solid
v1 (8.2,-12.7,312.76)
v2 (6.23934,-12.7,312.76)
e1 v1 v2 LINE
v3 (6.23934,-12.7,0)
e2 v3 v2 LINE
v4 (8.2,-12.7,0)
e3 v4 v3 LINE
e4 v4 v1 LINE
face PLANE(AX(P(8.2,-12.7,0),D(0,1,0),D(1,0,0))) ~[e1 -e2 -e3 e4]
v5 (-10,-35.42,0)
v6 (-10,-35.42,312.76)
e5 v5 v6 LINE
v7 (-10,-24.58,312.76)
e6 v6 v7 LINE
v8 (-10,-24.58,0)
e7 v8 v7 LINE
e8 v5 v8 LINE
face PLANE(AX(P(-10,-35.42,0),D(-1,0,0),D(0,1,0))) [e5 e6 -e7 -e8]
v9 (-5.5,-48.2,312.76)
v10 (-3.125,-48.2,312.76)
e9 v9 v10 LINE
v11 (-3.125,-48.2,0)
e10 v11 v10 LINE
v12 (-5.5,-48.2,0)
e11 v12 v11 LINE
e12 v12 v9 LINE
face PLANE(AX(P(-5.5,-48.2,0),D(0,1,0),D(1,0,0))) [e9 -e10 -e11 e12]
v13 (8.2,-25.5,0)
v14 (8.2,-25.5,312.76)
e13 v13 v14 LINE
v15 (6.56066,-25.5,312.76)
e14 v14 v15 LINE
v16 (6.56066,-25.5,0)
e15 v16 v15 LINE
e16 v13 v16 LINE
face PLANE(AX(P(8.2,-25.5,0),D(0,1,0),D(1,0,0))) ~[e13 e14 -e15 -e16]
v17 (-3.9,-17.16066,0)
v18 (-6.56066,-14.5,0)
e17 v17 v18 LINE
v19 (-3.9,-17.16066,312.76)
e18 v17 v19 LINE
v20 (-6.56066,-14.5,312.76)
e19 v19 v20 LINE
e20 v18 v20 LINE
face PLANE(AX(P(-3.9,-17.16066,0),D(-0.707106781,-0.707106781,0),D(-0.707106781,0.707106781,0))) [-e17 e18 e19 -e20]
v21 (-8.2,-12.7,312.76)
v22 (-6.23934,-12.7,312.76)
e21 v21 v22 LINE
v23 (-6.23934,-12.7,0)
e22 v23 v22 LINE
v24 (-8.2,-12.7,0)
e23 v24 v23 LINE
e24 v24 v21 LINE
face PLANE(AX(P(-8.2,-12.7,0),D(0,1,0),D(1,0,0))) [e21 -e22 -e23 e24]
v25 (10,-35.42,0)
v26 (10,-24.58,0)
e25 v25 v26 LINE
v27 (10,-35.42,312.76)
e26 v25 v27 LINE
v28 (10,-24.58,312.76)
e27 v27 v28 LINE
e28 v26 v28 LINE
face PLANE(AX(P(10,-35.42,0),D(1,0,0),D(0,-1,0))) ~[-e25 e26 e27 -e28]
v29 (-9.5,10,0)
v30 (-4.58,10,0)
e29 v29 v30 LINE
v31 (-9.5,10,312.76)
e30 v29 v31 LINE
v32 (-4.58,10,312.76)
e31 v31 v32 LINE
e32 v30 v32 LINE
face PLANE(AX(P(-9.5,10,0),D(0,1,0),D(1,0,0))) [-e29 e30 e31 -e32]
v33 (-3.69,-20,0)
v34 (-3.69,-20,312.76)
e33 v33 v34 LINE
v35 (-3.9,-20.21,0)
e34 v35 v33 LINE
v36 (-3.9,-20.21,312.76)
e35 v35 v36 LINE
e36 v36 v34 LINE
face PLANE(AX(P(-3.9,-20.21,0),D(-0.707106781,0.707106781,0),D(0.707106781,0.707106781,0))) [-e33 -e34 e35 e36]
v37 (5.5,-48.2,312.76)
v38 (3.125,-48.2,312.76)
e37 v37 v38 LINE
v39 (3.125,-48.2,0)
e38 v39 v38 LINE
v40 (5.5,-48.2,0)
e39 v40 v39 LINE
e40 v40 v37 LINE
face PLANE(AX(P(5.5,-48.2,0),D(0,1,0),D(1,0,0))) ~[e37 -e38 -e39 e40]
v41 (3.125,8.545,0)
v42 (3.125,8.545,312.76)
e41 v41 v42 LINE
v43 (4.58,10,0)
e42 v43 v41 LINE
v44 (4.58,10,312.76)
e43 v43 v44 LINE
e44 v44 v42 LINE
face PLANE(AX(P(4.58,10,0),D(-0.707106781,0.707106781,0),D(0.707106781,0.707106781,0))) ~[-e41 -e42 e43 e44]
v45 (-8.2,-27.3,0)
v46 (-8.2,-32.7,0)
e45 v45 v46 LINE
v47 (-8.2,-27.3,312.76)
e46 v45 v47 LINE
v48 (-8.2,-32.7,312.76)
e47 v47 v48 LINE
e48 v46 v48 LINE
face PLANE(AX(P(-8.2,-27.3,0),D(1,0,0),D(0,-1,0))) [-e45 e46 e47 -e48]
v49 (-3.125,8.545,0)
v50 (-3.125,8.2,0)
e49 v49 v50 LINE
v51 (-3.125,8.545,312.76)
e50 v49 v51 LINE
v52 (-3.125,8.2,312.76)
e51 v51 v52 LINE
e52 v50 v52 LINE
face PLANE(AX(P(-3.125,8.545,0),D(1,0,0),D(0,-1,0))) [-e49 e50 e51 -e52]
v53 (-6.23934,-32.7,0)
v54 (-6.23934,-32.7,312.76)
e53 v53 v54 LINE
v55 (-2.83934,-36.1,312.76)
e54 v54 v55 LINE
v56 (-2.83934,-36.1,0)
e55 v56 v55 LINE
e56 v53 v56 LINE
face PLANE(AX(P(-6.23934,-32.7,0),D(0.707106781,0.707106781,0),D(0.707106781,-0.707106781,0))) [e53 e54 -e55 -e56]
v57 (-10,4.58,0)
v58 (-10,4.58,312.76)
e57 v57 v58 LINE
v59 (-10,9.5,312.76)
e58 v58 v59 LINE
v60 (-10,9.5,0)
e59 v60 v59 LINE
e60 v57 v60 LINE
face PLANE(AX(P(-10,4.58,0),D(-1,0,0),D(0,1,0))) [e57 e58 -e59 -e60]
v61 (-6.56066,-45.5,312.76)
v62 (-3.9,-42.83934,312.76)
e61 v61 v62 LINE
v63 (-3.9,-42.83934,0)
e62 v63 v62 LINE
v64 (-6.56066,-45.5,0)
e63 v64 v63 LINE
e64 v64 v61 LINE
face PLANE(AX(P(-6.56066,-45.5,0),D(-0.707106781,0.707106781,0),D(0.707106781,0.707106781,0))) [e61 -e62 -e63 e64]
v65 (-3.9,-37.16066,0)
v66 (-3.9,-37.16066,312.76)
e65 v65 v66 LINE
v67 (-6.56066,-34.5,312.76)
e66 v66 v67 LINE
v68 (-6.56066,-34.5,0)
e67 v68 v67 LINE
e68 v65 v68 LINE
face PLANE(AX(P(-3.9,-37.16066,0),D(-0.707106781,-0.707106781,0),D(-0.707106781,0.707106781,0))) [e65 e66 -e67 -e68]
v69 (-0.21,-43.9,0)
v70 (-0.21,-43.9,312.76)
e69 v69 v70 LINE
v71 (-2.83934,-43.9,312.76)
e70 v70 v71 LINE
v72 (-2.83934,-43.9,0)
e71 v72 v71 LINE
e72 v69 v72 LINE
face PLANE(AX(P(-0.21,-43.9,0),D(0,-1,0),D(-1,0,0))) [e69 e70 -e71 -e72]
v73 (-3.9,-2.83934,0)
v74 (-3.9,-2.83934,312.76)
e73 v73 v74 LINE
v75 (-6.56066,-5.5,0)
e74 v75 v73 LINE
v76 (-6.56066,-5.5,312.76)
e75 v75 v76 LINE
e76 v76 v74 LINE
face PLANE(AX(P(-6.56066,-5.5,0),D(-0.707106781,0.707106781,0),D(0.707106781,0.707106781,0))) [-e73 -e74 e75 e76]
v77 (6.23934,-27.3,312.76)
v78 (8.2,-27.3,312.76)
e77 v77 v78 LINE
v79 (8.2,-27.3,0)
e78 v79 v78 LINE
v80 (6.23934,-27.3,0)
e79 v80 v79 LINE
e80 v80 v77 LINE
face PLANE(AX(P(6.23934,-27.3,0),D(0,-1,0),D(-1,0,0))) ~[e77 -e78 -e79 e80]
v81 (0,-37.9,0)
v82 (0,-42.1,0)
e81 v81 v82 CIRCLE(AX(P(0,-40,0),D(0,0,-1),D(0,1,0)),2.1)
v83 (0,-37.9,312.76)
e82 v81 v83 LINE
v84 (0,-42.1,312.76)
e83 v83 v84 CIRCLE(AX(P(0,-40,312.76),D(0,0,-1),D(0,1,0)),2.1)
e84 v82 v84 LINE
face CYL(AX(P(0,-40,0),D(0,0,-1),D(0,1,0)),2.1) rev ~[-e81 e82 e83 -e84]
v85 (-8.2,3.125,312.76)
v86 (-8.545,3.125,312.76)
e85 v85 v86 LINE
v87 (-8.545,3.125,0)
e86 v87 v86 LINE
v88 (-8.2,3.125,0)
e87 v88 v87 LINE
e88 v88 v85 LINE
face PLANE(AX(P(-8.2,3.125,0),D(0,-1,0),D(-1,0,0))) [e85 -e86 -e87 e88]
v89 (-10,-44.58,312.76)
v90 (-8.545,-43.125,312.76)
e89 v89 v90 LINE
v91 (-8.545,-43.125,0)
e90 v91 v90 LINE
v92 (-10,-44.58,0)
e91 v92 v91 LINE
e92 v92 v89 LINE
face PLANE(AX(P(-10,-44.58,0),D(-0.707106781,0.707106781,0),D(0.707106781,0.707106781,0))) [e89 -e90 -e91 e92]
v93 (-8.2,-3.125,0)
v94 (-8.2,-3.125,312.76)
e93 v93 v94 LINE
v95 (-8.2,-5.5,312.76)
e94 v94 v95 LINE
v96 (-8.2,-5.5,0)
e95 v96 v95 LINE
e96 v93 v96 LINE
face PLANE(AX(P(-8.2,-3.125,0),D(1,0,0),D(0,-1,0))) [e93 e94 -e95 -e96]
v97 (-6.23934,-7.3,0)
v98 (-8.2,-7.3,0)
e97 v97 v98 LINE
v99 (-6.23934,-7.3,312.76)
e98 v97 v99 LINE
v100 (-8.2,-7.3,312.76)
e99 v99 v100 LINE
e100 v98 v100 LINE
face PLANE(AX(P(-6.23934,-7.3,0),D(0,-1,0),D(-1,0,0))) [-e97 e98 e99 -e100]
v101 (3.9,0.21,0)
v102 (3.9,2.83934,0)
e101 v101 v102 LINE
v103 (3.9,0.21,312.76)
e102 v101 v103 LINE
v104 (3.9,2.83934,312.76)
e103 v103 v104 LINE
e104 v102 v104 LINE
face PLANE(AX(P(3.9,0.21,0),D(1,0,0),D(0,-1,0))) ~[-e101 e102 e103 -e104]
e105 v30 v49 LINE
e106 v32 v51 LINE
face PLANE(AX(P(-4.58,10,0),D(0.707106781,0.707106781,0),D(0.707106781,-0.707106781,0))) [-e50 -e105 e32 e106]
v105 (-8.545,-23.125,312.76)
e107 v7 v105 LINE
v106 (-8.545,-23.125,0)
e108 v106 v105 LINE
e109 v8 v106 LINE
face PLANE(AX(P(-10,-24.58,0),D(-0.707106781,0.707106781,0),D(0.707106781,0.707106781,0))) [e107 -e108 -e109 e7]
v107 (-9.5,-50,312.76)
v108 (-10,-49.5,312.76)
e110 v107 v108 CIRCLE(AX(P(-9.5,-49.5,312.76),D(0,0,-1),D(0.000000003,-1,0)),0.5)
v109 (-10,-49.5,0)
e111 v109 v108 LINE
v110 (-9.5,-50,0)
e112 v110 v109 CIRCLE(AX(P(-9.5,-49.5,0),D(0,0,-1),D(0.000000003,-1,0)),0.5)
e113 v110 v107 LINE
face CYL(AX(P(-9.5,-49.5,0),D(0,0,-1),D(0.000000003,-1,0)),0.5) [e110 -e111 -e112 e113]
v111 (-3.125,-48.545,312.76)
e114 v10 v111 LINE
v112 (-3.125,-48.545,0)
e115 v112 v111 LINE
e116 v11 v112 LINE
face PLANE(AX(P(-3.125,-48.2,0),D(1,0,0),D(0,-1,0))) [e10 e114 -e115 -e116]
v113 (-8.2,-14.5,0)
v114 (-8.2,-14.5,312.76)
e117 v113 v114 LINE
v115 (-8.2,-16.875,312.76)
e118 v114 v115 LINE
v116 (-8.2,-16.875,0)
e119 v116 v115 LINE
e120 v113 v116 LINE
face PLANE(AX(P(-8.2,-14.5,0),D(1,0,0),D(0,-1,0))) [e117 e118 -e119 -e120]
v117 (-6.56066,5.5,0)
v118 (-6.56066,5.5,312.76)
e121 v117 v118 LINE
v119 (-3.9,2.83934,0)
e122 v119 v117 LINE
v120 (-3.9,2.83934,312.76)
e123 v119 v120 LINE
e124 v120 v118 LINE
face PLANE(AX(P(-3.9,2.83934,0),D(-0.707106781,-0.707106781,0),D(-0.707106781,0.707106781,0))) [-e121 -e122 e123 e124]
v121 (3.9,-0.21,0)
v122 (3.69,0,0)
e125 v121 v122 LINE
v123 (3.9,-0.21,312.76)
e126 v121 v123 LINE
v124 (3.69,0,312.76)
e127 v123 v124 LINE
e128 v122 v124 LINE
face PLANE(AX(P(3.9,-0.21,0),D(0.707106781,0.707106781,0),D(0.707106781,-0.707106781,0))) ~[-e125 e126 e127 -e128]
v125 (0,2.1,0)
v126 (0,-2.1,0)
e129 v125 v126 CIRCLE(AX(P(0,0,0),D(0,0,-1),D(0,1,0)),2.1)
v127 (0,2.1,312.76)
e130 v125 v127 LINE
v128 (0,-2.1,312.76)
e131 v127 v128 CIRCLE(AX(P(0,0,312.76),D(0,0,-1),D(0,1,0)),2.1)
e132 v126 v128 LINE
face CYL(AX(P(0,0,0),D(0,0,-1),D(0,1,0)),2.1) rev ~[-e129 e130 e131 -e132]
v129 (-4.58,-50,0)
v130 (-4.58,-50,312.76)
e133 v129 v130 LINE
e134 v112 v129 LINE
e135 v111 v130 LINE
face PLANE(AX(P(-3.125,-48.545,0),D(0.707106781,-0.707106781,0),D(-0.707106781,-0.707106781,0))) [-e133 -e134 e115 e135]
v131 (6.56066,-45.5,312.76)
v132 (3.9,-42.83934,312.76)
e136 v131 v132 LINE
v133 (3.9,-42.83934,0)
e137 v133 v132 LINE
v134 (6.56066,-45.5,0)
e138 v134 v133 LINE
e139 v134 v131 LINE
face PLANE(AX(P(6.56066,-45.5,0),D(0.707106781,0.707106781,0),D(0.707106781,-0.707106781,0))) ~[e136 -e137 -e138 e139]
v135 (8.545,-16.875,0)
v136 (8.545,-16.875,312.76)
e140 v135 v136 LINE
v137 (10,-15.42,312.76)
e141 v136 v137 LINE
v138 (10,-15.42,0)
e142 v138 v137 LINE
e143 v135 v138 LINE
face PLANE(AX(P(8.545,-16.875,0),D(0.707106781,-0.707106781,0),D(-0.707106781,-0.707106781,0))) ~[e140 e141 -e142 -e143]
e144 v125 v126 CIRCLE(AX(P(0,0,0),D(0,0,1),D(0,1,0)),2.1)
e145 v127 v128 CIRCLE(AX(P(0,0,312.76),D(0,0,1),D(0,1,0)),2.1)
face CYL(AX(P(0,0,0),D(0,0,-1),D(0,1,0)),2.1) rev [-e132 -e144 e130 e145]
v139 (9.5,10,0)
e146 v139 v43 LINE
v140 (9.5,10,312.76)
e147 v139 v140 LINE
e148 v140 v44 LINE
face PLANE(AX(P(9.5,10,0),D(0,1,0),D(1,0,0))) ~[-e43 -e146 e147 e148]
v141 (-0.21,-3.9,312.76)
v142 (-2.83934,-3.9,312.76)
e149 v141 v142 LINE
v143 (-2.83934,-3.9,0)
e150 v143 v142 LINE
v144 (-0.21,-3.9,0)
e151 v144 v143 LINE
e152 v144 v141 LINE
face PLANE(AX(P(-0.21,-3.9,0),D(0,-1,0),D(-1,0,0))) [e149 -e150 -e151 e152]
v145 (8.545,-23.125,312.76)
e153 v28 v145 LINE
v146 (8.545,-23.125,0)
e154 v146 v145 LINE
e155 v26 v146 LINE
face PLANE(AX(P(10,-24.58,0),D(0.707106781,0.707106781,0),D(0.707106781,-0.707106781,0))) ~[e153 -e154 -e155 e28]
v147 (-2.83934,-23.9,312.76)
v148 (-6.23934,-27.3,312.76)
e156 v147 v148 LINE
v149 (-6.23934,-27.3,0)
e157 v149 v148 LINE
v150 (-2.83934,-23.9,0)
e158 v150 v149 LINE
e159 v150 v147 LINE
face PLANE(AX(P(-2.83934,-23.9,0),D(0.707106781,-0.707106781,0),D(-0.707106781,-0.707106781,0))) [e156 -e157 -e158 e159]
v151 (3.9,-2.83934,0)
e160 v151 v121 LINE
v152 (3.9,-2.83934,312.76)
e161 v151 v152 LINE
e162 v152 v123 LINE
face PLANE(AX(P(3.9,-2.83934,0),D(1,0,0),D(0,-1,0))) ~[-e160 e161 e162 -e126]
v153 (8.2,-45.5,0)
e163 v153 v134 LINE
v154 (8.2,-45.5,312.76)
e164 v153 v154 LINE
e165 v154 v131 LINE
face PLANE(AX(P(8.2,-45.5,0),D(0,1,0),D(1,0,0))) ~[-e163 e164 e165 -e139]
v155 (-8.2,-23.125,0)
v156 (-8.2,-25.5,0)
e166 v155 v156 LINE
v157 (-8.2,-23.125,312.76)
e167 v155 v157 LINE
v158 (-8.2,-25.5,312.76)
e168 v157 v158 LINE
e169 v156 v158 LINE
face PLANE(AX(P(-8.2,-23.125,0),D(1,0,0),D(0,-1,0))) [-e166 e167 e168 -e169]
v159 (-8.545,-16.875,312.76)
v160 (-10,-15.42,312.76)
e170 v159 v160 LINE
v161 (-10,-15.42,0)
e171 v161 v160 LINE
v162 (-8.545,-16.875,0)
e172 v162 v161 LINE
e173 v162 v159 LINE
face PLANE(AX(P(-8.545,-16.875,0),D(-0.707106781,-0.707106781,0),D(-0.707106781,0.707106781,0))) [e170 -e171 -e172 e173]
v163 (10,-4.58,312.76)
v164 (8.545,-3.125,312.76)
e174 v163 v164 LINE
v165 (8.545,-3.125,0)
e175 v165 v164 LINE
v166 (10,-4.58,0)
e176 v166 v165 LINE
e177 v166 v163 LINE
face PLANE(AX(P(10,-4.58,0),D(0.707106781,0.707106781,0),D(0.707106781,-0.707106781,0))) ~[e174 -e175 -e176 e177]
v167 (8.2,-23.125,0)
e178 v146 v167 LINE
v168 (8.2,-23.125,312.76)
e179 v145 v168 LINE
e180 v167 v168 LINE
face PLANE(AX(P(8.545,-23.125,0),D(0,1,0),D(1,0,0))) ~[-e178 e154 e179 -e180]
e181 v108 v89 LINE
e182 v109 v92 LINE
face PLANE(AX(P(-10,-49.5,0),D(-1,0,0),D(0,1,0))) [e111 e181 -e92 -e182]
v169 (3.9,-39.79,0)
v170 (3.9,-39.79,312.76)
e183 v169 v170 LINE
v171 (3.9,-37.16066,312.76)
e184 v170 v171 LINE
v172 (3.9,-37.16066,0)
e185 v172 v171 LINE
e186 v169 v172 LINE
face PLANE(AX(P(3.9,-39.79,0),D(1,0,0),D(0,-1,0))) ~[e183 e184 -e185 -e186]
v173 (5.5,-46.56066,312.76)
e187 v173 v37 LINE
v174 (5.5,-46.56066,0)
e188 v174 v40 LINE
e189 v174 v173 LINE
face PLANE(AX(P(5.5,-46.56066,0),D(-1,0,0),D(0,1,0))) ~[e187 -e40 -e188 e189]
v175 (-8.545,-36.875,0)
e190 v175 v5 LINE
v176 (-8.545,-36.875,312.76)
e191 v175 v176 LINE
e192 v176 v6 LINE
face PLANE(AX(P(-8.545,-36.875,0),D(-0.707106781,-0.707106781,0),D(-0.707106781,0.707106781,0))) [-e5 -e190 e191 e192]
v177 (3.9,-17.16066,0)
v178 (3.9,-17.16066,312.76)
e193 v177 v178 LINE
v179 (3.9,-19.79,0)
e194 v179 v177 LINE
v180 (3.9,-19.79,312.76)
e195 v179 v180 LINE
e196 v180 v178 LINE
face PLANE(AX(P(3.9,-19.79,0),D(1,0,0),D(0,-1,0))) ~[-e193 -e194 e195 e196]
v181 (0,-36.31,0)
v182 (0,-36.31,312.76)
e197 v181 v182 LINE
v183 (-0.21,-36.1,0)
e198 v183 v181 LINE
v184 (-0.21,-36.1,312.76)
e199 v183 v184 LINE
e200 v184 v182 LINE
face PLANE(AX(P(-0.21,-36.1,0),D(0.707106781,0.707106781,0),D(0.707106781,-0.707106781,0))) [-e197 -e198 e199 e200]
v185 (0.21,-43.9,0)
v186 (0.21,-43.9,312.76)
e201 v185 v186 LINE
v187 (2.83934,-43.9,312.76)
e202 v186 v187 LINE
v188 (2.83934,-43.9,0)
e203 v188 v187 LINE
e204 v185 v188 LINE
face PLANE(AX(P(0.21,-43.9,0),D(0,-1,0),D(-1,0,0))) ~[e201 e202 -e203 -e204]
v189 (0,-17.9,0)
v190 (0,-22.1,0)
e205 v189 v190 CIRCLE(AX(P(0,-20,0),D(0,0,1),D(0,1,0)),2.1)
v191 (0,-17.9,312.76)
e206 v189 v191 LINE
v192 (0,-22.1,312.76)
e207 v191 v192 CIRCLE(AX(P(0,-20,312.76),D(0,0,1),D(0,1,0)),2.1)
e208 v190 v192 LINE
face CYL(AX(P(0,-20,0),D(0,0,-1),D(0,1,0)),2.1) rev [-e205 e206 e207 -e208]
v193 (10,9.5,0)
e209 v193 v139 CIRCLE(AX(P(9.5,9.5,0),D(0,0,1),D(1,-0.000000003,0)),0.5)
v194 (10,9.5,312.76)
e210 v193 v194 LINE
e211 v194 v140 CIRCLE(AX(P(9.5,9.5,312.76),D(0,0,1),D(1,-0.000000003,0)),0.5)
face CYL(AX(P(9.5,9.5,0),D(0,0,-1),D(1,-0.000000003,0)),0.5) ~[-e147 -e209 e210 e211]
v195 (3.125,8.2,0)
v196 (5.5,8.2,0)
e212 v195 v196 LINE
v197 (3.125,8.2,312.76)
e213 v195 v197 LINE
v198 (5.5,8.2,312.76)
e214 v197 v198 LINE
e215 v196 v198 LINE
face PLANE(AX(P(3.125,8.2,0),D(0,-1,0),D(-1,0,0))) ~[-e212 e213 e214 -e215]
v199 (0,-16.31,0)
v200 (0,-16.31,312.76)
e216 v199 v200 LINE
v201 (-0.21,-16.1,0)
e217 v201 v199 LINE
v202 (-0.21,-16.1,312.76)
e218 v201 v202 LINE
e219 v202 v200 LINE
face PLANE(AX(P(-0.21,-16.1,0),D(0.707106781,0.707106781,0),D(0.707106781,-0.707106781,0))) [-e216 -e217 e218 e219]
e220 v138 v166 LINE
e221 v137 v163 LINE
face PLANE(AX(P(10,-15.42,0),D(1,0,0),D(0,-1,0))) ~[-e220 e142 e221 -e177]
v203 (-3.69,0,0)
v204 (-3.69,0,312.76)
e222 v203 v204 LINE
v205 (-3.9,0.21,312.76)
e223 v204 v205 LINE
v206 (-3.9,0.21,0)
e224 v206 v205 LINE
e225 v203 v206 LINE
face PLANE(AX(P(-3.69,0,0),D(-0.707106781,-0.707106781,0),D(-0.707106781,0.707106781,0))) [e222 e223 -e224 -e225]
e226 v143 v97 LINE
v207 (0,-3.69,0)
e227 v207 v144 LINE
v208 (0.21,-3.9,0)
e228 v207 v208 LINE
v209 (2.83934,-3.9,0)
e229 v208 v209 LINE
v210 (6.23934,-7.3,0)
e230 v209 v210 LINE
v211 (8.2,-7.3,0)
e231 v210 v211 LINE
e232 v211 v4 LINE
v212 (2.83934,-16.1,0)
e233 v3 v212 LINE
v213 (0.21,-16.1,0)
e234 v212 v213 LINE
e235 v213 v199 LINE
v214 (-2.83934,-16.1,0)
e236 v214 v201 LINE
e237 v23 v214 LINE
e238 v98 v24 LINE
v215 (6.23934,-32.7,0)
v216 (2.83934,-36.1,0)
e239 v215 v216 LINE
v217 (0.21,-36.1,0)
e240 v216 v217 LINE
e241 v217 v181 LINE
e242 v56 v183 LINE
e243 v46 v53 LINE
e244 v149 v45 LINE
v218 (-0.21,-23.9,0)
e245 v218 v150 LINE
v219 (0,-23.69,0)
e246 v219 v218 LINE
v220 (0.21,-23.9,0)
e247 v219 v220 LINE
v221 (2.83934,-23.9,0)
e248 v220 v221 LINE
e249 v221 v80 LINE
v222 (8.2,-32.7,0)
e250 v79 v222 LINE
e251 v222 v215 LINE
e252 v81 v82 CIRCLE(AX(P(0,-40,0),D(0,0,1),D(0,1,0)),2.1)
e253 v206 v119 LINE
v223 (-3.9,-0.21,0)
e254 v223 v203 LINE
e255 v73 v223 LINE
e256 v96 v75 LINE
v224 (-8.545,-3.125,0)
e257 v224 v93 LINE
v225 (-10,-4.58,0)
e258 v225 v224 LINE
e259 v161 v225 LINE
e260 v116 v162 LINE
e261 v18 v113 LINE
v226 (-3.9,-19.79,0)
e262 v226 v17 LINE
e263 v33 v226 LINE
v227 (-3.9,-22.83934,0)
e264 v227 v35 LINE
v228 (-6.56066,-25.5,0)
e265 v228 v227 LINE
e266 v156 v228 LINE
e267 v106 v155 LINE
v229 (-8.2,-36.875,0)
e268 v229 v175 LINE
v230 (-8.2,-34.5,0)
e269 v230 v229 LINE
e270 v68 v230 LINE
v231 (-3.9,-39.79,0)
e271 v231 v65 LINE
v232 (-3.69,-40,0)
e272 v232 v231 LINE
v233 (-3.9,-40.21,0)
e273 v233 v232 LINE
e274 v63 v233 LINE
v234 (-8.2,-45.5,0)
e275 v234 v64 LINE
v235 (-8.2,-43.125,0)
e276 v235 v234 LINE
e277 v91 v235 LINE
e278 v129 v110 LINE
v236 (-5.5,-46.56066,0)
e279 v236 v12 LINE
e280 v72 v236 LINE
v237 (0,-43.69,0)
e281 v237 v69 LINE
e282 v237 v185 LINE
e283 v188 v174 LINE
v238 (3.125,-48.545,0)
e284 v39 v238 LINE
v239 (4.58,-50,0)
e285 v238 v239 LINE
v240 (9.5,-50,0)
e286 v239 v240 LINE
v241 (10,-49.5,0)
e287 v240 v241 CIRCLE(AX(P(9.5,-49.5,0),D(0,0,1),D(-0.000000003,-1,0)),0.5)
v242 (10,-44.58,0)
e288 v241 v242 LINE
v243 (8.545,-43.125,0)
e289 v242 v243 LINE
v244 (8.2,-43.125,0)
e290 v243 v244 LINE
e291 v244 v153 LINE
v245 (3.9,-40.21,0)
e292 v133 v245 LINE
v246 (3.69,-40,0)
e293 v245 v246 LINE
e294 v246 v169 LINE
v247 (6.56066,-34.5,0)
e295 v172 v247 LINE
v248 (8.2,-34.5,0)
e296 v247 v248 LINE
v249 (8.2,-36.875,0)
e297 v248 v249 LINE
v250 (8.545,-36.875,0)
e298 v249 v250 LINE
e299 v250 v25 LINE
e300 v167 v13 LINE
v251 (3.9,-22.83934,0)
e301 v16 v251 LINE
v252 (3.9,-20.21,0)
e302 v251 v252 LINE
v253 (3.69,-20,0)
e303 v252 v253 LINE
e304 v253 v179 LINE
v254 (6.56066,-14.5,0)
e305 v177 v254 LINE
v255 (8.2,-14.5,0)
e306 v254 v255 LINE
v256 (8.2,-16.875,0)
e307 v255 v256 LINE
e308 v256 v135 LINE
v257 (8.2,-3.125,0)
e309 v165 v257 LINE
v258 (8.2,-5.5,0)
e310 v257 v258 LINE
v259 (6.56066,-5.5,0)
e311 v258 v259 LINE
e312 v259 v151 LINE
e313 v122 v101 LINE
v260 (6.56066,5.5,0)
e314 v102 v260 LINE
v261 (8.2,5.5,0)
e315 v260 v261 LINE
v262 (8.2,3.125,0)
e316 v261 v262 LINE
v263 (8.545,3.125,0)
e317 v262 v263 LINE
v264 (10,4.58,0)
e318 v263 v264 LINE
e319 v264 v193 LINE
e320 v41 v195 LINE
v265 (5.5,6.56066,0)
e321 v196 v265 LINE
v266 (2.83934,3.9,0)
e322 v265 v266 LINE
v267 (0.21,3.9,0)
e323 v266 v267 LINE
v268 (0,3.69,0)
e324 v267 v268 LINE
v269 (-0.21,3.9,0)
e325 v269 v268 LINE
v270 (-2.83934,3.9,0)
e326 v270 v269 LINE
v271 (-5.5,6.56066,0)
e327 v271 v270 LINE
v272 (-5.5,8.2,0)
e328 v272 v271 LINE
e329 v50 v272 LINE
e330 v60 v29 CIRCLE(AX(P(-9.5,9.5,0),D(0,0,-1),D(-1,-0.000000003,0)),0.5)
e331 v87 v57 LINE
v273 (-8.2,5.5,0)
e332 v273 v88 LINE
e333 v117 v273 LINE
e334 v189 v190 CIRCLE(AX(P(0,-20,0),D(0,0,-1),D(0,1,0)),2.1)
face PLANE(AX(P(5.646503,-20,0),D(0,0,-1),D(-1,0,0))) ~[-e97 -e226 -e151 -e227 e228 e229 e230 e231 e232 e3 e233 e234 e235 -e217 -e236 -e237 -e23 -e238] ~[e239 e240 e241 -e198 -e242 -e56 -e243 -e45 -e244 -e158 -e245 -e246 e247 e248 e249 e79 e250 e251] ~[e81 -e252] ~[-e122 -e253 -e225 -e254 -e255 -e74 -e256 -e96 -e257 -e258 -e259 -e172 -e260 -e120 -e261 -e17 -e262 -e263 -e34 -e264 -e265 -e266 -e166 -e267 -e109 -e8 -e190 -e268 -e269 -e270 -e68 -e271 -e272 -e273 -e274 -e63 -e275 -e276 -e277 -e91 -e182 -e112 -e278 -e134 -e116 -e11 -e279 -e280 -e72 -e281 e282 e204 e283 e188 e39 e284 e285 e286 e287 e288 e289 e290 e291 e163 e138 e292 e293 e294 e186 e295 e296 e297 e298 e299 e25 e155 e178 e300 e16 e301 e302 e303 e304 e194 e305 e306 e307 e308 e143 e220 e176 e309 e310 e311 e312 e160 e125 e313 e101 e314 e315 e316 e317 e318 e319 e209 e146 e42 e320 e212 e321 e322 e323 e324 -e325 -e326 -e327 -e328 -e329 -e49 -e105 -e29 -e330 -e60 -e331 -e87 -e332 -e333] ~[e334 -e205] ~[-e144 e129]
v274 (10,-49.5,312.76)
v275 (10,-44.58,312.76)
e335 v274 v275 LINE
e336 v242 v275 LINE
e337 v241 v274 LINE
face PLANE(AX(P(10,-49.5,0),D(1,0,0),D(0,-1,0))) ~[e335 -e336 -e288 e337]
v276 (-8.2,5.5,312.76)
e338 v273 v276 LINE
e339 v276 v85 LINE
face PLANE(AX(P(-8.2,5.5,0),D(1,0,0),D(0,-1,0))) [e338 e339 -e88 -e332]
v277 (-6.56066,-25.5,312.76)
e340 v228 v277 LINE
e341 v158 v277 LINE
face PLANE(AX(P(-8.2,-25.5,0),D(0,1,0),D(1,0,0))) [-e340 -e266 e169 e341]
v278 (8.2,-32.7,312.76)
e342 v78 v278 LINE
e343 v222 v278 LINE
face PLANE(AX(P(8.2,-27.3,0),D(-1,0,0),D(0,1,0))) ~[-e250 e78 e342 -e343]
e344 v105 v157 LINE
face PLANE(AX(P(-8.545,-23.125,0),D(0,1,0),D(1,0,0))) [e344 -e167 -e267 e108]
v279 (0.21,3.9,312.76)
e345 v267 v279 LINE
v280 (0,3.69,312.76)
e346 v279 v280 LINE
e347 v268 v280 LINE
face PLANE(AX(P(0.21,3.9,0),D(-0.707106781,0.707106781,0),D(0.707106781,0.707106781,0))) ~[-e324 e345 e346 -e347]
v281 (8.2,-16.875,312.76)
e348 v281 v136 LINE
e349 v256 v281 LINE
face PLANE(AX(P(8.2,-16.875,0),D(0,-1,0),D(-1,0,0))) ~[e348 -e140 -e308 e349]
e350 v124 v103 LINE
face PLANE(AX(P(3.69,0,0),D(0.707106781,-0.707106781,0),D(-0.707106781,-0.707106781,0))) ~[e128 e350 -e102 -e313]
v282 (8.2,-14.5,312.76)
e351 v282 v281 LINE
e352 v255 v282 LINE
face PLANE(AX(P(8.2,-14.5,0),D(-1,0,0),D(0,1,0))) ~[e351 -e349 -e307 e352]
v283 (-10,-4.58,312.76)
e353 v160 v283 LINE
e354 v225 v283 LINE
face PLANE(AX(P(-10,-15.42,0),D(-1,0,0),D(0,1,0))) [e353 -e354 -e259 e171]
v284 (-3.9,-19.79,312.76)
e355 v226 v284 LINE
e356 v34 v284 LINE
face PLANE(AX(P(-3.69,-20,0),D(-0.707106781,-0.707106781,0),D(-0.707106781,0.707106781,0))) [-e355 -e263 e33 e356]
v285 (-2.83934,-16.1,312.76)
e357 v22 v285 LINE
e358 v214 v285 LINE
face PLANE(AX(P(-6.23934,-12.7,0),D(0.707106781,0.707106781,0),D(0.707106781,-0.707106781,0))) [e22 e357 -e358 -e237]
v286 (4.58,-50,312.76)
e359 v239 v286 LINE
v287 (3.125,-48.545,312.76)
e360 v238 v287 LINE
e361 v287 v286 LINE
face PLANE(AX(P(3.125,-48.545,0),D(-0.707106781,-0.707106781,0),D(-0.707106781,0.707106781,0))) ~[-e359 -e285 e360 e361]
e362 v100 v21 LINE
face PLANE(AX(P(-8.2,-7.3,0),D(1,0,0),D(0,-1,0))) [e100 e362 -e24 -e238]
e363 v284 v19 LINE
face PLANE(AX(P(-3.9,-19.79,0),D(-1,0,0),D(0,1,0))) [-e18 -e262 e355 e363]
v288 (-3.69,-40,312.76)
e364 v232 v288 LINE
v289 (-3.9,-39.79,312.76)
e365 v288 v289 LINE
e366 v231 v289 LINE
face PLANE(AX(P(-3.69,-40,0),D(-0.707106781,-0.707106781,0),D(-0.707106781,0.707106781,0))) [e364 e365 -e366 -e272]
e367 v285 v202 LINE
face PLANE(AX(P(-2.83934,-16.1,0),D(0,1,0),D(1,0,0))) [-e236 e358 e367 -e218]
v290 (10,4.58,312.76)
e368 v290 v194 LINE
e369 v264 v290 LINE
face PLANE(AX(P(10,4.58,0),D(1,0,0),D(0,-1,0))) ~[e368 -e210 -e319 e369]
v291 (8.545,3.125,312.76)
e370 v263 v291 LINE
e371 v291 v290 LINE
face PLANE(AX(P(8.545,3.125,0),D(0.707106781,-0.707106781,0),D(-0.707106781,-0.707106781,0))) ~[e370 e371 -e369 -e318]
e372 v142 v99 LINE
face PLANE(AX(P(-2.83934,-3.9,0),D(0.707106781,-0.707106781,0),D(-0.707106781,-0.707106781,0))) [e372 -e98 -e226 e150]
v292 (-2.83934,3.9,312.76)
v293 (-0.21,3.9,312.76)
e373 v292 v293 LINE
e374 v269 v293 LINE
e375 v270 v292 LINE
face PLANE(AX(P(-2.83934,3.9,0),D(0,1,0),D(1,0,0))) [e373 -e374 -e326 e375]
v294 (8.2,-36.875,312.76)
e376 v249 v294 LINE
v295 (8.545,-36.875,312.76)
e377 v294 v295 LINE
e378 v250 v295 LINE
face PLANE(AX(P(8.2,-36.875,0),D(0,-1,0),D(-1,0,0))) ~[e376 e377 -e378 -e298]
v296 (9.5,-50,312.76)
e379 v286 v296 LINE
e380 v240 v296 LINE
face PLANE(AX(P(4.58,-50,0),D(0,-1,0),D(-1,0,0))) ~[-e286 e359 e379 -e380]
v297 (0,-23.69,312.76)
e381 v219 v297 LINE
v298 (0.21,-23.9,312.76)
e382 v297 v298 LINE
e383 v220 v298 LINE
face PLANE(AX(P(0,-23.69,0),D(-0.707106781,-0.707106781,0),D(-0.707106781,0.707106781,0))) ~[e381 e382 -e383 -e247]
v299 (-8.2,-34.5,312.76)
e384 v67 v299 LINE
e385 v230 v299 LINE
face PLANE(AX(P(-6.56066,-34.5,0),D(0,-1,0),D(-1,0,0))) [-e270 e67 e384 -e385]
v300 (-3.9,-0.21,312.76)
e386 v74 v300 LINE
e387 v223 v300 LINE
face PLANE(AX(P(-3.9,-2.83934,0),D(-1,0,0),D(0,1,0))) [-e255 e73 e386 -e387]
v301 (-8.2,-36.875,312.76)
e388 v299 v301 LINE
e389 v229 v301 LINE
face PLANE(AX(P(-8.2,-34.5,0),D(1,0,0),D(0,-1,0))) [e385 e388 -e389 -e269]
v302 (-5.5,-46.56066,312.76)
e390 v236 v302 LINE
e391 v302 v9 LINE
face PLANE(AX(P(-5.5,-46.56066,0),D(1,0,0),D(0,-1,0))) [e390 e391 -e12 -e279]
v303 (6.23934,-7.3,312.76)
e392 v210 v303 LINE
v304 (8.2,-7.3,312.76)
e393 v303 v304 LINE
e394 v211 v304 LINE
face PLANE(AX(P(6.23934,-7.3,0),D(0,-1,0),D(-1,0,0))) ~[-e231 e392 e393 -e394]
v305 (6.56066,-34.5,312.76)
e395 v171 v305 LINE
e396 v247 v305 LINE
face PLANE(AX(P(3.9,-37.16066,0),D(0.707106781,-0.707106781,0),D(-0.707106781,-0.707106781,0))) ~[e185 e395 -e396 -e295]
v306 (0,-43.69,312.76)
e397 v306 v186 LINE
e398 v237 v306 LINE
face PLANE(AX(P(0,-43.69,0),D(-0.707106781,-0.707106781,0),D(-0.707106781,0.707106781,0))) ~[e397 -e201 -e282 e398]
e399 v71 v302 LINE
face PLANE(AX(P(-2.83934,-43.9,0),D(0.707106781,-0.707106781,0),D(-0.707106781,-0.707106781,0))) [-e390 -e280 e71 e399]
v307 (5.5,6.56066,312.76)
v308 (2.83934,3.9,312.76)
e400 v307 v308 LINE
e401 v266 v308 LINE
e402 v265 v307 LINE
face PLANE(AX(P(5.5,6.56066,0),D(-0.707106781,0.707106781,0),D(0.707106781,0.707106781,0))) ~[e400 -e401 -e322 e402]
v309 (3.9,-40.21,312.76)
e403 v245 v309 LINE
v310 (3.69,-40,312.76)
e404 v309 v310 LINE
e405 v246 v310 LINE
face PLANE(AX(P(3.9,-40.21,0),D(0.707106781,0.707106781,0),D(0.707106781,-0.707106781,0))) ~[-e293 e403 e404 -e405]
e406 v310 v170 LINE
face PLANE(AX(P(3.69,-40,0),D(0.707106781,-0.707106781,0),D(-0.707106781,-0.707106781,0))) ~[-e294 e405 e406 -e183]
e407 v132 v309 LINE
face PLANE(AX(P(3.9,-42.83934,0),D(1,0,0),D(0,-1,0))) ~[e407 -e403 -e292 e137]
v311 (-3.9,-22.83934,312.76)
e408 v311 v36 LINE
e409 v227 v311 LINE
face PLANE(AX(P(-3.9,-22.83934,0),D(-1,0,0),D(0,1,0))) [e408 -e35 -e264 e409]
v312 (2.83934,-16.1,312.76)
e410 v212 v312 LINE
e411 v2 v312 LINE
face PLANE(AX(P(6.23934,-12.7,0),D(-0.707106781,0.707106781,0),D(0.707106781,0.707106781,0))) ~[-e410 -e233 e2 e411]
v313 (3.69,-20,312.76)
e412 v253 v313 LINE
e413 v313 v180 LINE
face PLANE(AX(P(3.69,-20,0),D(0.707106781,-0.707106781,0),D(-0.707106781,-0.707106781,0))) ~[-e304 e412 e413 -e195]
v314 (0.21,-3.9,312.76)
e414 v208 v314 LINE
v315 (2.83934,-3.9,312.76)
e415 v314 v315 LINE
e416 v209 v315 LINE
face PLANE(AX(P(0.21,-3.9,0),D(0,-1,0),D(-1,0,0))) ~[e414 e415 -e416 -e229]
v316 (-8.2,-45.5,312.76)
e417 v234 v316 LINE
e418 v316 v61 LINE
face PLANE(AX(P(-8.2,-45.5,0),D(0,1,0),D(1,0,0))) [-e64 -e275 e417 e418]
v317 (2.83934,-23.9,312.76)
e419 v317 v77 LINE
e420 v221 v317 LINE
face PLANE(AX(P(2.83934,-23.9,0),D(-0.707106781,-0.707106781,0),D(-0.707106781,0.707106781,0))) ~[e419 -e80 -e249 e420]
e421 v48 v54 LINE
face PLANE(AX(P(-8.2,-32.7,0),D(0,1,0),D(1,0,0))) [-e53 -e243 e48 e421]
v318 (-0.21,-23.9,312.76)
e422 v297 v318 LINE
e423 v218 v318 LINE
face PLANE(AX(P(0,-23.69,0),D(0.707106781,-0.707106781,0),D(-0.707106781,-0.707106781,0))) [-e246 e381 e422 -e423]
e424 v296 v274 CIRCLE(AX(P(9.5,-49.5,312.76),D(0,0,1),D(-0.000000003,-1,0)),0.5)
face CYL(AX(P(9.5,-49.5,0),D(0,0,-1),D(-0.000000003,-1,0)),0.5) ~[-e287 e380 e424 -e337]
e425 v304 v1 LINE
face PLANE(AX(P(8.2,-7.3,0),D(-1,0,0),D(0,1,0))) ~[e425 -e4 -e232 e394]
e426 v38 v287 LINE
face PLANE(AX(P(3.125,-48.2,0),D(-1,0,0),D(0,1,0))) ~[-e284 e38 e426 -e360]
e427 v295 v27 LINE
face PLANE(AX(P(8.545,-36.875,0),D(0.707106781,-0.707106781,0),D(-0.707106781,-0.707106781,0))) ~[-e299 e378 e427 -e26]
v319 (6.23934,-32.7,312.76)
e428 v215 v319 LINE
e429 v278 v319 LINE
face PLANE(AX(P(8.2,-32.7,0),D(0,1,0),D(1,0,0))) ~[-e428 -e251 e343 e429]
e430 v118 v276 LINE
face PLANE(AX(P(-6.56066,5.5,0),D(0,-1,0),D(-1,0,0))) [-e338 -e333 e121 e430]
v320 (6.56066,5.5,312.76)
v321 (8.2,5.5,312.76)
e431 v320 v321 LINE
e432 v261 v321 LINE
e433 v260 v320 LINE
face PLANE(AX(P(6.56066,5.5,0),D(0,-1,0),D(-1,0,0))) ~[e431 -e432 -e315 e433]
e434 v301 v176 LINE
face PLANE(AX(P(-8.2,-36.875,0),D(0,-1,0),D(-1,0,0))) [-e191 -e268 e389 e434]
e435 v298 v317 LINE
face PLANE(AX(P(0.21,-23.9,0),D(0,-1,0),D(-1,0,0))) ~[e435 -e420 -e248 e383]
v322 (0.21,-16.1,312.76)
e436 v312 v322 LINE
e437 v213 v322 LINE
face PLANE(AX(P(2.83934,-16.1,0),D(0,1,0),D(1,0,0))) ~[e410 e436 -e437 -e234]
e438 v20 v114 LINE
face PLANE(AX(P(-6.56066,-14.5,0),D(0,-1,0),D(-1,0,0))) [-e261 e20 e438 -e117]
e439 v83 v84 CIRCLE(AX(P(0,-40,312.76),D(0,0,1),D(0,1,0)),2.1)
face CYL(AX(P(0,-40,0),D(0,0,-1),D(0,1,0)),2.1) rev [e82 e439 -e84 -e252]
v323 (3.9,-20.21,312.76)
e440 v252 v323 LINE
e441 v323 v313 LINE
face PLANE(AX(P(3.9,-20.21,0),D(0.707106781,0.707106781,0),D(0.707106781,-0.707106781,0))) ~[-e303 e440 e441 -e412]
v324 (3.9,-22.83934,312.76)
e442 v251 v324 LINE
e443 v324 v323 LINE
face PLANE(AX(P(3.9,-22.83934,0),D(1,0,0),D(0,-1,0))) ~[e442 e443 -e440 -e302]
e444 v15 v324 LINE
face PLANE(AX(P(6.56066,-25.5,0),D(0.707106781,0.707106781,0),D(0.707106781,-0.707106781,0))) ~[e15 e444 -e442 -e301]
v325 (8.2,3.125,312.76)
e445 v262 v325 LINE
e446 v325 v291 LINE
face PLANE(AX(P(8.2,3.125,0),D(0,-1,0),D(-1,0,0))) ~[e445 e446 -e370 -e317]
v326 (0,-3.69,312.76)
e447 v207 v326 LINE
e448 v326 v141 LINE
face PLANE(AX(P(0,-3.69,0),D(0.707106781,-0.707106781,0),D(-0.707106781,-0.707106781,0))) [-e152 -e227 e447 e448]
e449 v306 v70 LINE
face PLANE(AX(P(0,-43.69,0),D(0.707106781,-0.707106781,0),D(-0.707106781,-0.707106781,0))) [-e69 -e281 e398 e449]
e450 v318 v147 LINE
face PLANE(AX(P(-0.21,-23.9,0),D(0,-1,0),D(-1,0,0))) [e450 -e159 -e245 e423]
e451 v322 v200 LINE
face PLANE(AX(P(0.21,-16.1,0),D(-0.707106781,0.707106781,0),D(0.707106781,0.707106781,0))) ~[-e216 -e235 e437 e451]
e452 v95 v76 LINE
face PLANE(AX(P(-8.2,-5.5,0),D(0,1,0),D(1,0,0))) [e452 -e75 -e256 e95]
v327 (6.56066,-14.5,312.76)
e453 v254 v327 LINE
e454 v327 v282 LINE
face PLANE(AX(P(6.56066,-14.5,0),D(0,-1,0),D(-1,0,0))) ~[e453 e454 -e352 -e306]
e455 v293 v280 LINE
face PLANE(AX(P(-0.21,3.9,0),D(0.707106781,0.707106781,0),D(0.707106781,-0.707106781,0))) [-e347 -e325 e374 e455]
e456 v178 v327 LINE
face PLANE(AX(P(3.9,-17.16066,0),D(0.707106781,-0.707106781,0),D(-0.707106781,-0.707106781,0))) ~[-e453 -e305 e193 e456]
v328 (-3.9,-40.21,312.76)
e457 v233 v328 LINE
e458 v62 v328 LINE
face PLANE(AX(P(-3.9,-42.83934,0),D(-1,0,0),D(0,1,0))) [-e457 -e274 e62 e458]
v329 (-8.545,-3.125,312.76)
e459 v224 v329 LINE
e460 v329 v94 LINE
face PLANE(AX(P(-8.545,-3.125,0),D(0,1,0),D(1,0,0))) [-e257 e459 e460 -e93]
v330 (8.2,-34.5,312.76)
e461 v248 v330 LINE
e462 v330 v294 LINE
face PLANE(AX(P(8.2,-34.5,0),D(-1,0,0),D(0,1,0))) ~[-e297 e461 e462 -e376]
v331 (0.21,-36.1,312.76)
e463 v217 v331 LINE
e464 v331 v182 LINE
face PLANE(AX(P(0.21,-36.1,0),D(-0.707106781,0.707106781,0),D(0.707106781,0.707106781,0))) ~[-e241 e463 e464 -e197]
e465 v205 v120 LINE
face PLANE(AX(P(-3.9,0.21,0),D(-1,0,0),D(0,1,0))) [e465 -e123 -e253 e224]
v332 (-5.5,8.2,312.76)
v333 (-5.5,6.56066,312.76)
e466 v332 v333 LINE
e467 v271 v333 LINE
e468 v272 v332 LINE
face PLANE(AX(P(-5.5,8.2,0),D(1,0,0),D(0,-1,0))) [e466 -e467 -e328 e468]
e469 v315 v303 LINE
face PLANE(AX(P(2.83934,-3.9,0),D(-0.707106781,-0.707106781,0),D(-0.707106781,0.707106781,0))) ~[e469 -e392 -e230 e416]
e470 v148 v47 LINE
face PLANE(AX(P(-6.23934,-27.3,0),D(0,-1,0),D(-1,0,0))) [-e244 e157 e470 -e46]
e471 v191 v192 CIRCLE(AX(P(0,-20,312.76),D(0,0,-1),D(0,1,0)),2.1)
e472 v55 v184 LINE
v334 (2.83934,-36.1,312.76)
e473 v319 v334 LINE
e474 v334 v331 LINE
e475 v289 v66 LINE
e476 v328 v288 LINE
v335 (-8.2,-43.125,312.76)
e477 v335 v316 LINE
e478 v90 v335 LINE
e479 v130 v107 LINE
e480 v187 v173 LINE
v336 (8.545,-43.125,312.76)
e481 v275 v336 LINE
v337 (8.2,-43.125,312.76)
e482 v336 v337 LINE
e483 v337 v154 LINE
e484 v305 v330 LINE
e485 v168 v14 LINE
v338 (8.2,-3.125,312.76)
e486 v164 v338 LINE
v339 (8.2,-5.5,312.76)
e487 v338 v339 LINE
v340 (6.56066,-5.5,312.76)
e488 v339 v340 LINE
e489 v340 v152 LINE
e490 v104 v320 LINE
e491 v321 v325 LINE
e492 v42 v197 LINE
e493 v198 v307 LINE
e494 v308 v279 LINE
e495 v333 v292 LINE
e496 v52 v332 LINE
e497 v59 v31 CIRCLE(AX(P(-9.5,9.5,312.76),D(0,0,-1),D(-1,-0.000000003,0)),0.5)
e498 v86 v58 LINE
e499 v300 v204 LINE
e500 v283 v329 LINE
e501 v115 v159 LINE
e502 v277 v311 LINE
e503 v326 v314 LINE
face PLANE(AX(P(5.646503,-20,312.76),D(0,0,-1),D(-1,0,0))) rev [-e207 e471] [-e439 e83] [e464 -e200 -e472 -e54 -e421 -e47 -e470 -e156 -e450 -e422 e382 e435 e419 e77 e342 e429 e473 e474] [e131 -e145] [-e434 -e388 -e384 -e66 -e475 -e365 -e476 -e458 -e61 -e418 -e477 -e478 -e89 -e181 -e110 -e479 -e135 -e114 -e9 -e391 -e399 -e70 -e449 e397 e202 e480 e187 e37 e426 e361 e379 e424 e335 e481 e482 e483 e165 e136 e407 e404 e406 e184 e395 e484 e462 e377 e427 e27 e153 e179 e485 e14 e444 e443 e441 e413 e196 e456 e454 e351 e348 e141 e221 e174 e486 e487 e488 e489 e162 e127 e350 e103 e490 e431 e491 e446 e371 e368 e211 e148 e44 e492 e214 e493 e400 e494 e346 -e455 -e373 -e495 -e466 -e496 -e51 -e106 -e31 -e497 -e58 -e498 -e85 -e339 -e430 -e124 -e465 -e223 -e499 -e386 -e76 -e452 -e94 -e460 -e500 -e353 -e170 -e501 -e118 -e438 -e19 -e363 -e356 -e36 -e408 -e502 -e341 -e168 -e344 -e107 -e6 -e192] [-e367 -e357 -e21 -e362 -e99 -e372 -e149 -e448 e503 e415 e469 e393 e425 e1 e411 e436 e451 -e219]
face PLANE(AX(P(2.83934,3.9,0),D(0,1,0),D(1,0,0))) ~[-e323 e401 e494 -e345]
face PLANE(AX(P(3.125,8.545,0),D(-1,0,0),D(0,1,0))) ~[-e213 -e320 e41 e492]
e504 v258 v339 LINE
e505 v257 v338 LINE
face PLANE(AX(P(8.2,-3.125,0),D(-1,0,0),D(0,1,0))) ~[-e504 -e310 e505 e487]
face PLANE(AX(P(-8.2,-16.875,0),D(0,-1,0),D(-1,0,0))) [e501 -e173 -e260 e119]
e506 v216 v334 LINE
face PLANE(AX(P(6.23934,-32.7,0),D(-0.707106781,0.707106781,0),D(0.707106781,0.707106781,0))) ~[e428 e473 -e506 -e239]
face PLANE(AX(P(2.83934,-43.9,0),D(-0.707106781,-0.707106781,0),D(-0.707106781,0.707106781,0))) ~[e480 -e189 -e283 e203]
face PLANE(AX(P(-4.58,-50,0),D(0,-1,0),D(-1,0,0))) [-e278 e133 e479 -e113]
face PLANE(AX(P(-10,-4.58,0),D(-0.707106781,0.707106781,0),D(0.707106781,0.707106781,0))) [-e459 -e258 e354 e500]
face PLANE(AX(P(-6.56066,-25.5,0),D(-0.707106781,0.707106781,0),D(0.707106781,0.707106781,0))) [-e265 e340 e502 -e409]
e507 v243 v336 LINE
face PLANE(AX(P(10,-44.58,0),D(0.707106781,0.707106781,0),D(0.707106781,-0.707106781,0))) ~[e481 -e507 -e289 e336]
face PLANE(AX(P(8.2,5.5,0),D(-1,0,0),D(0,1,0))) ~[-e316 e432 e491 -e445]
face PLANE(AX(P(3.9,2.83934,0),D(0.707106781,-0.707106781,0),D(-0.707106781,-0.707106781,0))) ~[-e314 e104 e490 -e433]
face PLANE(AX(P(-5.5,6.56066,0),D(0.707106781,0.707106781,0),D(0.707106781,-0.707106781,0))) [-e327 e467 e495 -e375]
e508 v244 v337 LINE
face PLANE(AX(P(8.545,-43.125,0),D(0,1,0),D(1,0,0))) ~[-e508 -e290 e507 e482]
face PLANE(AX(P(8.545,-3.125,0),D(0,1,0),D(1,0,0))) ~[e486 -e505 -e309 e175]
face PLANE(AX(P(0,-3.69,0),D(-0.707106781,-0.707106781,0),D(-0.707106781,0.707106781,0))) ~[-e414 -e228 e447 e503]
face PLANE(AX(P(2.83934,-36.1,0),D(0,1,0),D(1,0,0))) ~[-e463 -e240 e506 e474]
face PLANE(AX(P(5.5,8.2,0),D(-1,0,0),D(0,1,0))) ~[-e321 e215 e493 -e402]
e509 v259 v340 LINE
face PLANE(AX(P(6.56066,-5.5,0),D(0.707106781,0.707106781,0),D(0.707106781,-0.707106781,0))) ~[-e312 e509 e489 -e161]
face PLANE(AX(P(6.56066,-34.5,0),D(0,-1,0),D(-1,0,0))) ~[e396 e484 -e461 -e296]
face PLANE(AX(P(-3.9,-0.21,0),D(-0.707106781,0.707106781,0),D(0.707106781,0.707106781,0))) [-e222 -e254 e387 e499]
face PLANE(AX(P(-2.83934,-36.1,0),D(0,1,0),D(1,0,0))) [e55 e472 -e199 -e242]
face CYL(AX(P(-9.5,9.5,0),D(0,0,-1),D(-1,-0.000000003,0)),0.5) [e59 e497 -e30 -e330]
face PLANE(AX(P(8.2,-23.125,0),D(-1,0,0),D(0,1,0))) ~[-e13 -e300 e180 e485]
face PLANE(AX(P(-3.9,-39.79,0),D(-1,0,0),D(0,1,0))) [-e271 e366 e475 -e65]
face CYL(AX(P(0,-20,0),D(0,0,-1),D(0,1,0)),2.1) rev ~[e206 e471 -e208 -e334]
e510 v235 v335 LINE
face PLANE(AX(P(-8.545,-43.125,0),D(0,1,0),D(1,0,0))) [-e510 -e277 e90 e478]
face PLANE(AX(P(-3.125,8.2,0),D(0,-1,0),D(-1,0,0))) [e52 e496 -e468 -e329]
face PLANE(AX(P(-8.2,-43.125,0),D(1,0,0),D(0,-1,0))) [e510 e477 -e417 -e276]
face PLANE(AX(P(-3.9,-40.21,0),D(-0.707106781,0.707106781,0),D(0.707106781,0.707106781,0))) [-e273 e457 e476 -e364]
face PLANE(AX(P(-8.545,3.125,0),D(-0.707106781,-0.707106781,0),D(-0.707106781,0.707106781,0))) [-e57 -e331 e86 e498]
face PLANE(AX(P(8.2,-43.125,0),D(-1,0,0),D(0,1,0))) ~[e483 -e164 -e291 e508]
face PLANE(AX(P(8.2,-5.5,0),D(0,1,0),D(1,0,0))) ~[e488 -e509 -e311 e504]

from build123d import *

# Parameters (mm, degrees)
BOSS_EXTRU_1_DEPTH = 312.76


with BuildPart() as part:
    # Esquisse1 → Boss.-Extru.1 (new body)
    with BuildSketch(Plane.XY):
        with BuildLine():
            Line((-9.5, 10), (-4.58, 10))
            Line((-4.58, 10), (-3.125, 8.545))
            Line((-3.125, 8.545), (-3.125, 8.2))
            Line((-3.125, 8.2), (-5.5, 8.2))
            Line((-5.5, 8.2), (-5.5, 6.560660172))
            Line((-5.5, 6.560660172), (-2.839339828, 3.9))
            Line((-2.839339828, 3.9), (-0.21, 3.9))
            Line((-0.21, 3.9), (0, 3.69))
            Line((0, 3.69), (0, 2.1))
            ThreePointArc((0, 2.1), (-2.1, 0), (0, -2.1))
            Line((0, -2.1), (0, -3.69))
            Line((0, -3.69), (-0.21, -3.9))
            Line((-0.21, -3.9), (-2.839339828, -3.9))
            Line((-2.839339828, -3.9), (-6.239339828, -7.3))
            Line((-6.239339828, -7.3), (-8.2, -7.3))
            Line((-8.2, -7.3), (-8.2, -12.7))
            Line((-8.2, -12.7), (-6.239339828, -12.7))
            Line((-6.239339828, -12.7), (-2.839339828, -16.1))
            Line((-2.839339828, -16.1), (-0.21, -16.1))
            Line((-0.21, -16.1), (0, -16.31))
            Line((0, -16.31), (0, -17.9))
            ThreePointArc((0, -17.9), (-2.1, -20), (0, -22.1))
            Line((0, -22.1), (0, -23.69))
            Line((0, -23.69), (-0.21, -23.9))
            Line((-0.21, -23.9), (-2.839339828, -23.9))
            Line((-2.839339828, -23.9), (-6.239339828, -27.3))
            Line((-6.239339828, -27.3), (-8.2, -27.3))
            Line((-8.2, -27.3), (-8.2, -32.7))
            Line((-8.2, -32.7), (-6.239339828, -32.7))
            Line((-6.239339828, -32.7), (-2.839339828, -36.1))
            Line((-2.839339828, -36.1), (-0.21, -36.1))
            Line((-0.21, -36.1), (0, -36.31))
            Line((0, -36.31), (0, -37.9))
            ThreePointArc((0, -37.9), (-2.1, -40), (0, -42.1))
            Line((0, -42.1), (0, -43.69))
            Line((0, -43.69), (-0.21, -43.9))
            Line((-0.21, -43.9), (-2.839339828, -43.9))
            Line((-2.839339828, -43.9), (-5.5, -46.560660172))
            Line((-5.5, -46.560660172), (-5.5, -48.2))
            Line((-5.5, -48.2), (-3.125, -48.2))
            Line((-3.125, -48.2), (-3.125, -48.545))
            Line((-3.125, -48.545), (-4.58, -50))
            Line((-4.58, -50), (-9.5, -50))
            ThreePointArc((-9.5, -50), (-9.853553391, -49.853553391), (-10, -49.5))
            Line((-10, -49.5), (-10, -44.58))
            Line((-10, -44.58), (-8.545, -43.125))
            Line((-8.545, -43.125), (-8.2, -43.125))
            Line((-8.2, -43.125), (-8.2, -45.5))
            Line((-8.2, -45.5), (-6.560660172, -45.5))
            Line((-6.560660172, -45.5), (-3.9, -42.839339828))
            Line((-3.9, -42.839339828), (-3.9, -40.21))
            Line((-3.9, -40.21), (-3.69, -40))
            Line((-3.69, -40), (-3.9, -39.79))
            Line((-3.9, -39.79), (-3.9, -37.160660172))
            Line((-3.9, -37.160660172), (-6.560660172, -34.5))
            Line((-6.560660172, -34.5), (-8.2, -34.5))
            Line((-8.2, -34.5), (-8.2, -36.875))
            Line((-8.2, -36.875), (-8.545, -36.875))
            Line((-8.545, -36.875), (-10, -35.42))
            Line((-10, -35.42), (-10, -24.58))
            Line((-10, -24.58), (-8.545, -23.125))
            Line((-8.545, -23.125), (-8.2, -23.125))
            Line((-8.2, -23.125), (-8.2, -25.5))
            Line((-8.2, -25.5), (-6.560660172, -25.5))
            Line((-6.560660172, -25.5), (-3.9, -22.839339828))
            Line((-3.9, -22.839339828), (-3.9, -20.21))
            Line((-3.9, -20.21), (-3.69, -20))
            Line((-3.69, -20), (-3.9, -19.79))
            Line((-3.9, -19.79), (-3.9, -17.160660172))
            Line((-3.9, -17.160660172), (-6.560660172, -14.5))
            Line((-6.560660172, -14.5), (-8.2, -14.5))
            Line((-8.2, -14.5), (-8.2, -16.875))
            Line((-8.2, -16.875), (-8.545, -16.875))
            Line((-8.545, -16.875), (-10, -15.42))
            Line((-10, -15.42), (-10, -4.58))
            Line((-10, -4.58), (-8.545, -3.125))
            Line((-8.545, -3.125), (-8.2, -3.125))
            Line((-8.2, -3.125), (-8.2, -5.5))
            Line((-8.2, -5.5), (-6.560660172, -5.5))
            Line((-6.560660172, -5.5), (-3.9, -2.839339828))
            Line((-3.9, -2.839339828), (-3.9, -0.21))
            Line((-3.9, -0.21), (-3.69, 0))
            Line((-3.69, 0), (-3.9, 0.21))
            Line((-3.9, 0.21), (-3.9, 2.839339828))
            Line((-3.9, 2.839339828), (-6.560660172, 5.5))
            Line((-6.560660172, 5.5), (-8.2, 5.5))
            Line((-8.2, 5.5), (-8.2, 3.125))
            Line((-8.2, 3.125), (-8.545, 3.125))
            Line((-8.545, 3.125), (-10, 4.58))
            Line((-10, 4.58), (-10, 9.5))
            ThreePointArc((-10, 9.5), (-9.853553391, 9.853553391), (-9.5, 10))
        make_face()
    boss_extru_1 = extrude(amount=BOSS_EXTRU_1_DEPTH)

    # Symétrie1: Boss.-Extru.1 across plane
    add(boss_extru_1.mirror(Plane(origin=(0, 3.69, 312.76), x_dir=(0, 0, 1), z_dir=(-1, 0, 0))))


solid = part.part
